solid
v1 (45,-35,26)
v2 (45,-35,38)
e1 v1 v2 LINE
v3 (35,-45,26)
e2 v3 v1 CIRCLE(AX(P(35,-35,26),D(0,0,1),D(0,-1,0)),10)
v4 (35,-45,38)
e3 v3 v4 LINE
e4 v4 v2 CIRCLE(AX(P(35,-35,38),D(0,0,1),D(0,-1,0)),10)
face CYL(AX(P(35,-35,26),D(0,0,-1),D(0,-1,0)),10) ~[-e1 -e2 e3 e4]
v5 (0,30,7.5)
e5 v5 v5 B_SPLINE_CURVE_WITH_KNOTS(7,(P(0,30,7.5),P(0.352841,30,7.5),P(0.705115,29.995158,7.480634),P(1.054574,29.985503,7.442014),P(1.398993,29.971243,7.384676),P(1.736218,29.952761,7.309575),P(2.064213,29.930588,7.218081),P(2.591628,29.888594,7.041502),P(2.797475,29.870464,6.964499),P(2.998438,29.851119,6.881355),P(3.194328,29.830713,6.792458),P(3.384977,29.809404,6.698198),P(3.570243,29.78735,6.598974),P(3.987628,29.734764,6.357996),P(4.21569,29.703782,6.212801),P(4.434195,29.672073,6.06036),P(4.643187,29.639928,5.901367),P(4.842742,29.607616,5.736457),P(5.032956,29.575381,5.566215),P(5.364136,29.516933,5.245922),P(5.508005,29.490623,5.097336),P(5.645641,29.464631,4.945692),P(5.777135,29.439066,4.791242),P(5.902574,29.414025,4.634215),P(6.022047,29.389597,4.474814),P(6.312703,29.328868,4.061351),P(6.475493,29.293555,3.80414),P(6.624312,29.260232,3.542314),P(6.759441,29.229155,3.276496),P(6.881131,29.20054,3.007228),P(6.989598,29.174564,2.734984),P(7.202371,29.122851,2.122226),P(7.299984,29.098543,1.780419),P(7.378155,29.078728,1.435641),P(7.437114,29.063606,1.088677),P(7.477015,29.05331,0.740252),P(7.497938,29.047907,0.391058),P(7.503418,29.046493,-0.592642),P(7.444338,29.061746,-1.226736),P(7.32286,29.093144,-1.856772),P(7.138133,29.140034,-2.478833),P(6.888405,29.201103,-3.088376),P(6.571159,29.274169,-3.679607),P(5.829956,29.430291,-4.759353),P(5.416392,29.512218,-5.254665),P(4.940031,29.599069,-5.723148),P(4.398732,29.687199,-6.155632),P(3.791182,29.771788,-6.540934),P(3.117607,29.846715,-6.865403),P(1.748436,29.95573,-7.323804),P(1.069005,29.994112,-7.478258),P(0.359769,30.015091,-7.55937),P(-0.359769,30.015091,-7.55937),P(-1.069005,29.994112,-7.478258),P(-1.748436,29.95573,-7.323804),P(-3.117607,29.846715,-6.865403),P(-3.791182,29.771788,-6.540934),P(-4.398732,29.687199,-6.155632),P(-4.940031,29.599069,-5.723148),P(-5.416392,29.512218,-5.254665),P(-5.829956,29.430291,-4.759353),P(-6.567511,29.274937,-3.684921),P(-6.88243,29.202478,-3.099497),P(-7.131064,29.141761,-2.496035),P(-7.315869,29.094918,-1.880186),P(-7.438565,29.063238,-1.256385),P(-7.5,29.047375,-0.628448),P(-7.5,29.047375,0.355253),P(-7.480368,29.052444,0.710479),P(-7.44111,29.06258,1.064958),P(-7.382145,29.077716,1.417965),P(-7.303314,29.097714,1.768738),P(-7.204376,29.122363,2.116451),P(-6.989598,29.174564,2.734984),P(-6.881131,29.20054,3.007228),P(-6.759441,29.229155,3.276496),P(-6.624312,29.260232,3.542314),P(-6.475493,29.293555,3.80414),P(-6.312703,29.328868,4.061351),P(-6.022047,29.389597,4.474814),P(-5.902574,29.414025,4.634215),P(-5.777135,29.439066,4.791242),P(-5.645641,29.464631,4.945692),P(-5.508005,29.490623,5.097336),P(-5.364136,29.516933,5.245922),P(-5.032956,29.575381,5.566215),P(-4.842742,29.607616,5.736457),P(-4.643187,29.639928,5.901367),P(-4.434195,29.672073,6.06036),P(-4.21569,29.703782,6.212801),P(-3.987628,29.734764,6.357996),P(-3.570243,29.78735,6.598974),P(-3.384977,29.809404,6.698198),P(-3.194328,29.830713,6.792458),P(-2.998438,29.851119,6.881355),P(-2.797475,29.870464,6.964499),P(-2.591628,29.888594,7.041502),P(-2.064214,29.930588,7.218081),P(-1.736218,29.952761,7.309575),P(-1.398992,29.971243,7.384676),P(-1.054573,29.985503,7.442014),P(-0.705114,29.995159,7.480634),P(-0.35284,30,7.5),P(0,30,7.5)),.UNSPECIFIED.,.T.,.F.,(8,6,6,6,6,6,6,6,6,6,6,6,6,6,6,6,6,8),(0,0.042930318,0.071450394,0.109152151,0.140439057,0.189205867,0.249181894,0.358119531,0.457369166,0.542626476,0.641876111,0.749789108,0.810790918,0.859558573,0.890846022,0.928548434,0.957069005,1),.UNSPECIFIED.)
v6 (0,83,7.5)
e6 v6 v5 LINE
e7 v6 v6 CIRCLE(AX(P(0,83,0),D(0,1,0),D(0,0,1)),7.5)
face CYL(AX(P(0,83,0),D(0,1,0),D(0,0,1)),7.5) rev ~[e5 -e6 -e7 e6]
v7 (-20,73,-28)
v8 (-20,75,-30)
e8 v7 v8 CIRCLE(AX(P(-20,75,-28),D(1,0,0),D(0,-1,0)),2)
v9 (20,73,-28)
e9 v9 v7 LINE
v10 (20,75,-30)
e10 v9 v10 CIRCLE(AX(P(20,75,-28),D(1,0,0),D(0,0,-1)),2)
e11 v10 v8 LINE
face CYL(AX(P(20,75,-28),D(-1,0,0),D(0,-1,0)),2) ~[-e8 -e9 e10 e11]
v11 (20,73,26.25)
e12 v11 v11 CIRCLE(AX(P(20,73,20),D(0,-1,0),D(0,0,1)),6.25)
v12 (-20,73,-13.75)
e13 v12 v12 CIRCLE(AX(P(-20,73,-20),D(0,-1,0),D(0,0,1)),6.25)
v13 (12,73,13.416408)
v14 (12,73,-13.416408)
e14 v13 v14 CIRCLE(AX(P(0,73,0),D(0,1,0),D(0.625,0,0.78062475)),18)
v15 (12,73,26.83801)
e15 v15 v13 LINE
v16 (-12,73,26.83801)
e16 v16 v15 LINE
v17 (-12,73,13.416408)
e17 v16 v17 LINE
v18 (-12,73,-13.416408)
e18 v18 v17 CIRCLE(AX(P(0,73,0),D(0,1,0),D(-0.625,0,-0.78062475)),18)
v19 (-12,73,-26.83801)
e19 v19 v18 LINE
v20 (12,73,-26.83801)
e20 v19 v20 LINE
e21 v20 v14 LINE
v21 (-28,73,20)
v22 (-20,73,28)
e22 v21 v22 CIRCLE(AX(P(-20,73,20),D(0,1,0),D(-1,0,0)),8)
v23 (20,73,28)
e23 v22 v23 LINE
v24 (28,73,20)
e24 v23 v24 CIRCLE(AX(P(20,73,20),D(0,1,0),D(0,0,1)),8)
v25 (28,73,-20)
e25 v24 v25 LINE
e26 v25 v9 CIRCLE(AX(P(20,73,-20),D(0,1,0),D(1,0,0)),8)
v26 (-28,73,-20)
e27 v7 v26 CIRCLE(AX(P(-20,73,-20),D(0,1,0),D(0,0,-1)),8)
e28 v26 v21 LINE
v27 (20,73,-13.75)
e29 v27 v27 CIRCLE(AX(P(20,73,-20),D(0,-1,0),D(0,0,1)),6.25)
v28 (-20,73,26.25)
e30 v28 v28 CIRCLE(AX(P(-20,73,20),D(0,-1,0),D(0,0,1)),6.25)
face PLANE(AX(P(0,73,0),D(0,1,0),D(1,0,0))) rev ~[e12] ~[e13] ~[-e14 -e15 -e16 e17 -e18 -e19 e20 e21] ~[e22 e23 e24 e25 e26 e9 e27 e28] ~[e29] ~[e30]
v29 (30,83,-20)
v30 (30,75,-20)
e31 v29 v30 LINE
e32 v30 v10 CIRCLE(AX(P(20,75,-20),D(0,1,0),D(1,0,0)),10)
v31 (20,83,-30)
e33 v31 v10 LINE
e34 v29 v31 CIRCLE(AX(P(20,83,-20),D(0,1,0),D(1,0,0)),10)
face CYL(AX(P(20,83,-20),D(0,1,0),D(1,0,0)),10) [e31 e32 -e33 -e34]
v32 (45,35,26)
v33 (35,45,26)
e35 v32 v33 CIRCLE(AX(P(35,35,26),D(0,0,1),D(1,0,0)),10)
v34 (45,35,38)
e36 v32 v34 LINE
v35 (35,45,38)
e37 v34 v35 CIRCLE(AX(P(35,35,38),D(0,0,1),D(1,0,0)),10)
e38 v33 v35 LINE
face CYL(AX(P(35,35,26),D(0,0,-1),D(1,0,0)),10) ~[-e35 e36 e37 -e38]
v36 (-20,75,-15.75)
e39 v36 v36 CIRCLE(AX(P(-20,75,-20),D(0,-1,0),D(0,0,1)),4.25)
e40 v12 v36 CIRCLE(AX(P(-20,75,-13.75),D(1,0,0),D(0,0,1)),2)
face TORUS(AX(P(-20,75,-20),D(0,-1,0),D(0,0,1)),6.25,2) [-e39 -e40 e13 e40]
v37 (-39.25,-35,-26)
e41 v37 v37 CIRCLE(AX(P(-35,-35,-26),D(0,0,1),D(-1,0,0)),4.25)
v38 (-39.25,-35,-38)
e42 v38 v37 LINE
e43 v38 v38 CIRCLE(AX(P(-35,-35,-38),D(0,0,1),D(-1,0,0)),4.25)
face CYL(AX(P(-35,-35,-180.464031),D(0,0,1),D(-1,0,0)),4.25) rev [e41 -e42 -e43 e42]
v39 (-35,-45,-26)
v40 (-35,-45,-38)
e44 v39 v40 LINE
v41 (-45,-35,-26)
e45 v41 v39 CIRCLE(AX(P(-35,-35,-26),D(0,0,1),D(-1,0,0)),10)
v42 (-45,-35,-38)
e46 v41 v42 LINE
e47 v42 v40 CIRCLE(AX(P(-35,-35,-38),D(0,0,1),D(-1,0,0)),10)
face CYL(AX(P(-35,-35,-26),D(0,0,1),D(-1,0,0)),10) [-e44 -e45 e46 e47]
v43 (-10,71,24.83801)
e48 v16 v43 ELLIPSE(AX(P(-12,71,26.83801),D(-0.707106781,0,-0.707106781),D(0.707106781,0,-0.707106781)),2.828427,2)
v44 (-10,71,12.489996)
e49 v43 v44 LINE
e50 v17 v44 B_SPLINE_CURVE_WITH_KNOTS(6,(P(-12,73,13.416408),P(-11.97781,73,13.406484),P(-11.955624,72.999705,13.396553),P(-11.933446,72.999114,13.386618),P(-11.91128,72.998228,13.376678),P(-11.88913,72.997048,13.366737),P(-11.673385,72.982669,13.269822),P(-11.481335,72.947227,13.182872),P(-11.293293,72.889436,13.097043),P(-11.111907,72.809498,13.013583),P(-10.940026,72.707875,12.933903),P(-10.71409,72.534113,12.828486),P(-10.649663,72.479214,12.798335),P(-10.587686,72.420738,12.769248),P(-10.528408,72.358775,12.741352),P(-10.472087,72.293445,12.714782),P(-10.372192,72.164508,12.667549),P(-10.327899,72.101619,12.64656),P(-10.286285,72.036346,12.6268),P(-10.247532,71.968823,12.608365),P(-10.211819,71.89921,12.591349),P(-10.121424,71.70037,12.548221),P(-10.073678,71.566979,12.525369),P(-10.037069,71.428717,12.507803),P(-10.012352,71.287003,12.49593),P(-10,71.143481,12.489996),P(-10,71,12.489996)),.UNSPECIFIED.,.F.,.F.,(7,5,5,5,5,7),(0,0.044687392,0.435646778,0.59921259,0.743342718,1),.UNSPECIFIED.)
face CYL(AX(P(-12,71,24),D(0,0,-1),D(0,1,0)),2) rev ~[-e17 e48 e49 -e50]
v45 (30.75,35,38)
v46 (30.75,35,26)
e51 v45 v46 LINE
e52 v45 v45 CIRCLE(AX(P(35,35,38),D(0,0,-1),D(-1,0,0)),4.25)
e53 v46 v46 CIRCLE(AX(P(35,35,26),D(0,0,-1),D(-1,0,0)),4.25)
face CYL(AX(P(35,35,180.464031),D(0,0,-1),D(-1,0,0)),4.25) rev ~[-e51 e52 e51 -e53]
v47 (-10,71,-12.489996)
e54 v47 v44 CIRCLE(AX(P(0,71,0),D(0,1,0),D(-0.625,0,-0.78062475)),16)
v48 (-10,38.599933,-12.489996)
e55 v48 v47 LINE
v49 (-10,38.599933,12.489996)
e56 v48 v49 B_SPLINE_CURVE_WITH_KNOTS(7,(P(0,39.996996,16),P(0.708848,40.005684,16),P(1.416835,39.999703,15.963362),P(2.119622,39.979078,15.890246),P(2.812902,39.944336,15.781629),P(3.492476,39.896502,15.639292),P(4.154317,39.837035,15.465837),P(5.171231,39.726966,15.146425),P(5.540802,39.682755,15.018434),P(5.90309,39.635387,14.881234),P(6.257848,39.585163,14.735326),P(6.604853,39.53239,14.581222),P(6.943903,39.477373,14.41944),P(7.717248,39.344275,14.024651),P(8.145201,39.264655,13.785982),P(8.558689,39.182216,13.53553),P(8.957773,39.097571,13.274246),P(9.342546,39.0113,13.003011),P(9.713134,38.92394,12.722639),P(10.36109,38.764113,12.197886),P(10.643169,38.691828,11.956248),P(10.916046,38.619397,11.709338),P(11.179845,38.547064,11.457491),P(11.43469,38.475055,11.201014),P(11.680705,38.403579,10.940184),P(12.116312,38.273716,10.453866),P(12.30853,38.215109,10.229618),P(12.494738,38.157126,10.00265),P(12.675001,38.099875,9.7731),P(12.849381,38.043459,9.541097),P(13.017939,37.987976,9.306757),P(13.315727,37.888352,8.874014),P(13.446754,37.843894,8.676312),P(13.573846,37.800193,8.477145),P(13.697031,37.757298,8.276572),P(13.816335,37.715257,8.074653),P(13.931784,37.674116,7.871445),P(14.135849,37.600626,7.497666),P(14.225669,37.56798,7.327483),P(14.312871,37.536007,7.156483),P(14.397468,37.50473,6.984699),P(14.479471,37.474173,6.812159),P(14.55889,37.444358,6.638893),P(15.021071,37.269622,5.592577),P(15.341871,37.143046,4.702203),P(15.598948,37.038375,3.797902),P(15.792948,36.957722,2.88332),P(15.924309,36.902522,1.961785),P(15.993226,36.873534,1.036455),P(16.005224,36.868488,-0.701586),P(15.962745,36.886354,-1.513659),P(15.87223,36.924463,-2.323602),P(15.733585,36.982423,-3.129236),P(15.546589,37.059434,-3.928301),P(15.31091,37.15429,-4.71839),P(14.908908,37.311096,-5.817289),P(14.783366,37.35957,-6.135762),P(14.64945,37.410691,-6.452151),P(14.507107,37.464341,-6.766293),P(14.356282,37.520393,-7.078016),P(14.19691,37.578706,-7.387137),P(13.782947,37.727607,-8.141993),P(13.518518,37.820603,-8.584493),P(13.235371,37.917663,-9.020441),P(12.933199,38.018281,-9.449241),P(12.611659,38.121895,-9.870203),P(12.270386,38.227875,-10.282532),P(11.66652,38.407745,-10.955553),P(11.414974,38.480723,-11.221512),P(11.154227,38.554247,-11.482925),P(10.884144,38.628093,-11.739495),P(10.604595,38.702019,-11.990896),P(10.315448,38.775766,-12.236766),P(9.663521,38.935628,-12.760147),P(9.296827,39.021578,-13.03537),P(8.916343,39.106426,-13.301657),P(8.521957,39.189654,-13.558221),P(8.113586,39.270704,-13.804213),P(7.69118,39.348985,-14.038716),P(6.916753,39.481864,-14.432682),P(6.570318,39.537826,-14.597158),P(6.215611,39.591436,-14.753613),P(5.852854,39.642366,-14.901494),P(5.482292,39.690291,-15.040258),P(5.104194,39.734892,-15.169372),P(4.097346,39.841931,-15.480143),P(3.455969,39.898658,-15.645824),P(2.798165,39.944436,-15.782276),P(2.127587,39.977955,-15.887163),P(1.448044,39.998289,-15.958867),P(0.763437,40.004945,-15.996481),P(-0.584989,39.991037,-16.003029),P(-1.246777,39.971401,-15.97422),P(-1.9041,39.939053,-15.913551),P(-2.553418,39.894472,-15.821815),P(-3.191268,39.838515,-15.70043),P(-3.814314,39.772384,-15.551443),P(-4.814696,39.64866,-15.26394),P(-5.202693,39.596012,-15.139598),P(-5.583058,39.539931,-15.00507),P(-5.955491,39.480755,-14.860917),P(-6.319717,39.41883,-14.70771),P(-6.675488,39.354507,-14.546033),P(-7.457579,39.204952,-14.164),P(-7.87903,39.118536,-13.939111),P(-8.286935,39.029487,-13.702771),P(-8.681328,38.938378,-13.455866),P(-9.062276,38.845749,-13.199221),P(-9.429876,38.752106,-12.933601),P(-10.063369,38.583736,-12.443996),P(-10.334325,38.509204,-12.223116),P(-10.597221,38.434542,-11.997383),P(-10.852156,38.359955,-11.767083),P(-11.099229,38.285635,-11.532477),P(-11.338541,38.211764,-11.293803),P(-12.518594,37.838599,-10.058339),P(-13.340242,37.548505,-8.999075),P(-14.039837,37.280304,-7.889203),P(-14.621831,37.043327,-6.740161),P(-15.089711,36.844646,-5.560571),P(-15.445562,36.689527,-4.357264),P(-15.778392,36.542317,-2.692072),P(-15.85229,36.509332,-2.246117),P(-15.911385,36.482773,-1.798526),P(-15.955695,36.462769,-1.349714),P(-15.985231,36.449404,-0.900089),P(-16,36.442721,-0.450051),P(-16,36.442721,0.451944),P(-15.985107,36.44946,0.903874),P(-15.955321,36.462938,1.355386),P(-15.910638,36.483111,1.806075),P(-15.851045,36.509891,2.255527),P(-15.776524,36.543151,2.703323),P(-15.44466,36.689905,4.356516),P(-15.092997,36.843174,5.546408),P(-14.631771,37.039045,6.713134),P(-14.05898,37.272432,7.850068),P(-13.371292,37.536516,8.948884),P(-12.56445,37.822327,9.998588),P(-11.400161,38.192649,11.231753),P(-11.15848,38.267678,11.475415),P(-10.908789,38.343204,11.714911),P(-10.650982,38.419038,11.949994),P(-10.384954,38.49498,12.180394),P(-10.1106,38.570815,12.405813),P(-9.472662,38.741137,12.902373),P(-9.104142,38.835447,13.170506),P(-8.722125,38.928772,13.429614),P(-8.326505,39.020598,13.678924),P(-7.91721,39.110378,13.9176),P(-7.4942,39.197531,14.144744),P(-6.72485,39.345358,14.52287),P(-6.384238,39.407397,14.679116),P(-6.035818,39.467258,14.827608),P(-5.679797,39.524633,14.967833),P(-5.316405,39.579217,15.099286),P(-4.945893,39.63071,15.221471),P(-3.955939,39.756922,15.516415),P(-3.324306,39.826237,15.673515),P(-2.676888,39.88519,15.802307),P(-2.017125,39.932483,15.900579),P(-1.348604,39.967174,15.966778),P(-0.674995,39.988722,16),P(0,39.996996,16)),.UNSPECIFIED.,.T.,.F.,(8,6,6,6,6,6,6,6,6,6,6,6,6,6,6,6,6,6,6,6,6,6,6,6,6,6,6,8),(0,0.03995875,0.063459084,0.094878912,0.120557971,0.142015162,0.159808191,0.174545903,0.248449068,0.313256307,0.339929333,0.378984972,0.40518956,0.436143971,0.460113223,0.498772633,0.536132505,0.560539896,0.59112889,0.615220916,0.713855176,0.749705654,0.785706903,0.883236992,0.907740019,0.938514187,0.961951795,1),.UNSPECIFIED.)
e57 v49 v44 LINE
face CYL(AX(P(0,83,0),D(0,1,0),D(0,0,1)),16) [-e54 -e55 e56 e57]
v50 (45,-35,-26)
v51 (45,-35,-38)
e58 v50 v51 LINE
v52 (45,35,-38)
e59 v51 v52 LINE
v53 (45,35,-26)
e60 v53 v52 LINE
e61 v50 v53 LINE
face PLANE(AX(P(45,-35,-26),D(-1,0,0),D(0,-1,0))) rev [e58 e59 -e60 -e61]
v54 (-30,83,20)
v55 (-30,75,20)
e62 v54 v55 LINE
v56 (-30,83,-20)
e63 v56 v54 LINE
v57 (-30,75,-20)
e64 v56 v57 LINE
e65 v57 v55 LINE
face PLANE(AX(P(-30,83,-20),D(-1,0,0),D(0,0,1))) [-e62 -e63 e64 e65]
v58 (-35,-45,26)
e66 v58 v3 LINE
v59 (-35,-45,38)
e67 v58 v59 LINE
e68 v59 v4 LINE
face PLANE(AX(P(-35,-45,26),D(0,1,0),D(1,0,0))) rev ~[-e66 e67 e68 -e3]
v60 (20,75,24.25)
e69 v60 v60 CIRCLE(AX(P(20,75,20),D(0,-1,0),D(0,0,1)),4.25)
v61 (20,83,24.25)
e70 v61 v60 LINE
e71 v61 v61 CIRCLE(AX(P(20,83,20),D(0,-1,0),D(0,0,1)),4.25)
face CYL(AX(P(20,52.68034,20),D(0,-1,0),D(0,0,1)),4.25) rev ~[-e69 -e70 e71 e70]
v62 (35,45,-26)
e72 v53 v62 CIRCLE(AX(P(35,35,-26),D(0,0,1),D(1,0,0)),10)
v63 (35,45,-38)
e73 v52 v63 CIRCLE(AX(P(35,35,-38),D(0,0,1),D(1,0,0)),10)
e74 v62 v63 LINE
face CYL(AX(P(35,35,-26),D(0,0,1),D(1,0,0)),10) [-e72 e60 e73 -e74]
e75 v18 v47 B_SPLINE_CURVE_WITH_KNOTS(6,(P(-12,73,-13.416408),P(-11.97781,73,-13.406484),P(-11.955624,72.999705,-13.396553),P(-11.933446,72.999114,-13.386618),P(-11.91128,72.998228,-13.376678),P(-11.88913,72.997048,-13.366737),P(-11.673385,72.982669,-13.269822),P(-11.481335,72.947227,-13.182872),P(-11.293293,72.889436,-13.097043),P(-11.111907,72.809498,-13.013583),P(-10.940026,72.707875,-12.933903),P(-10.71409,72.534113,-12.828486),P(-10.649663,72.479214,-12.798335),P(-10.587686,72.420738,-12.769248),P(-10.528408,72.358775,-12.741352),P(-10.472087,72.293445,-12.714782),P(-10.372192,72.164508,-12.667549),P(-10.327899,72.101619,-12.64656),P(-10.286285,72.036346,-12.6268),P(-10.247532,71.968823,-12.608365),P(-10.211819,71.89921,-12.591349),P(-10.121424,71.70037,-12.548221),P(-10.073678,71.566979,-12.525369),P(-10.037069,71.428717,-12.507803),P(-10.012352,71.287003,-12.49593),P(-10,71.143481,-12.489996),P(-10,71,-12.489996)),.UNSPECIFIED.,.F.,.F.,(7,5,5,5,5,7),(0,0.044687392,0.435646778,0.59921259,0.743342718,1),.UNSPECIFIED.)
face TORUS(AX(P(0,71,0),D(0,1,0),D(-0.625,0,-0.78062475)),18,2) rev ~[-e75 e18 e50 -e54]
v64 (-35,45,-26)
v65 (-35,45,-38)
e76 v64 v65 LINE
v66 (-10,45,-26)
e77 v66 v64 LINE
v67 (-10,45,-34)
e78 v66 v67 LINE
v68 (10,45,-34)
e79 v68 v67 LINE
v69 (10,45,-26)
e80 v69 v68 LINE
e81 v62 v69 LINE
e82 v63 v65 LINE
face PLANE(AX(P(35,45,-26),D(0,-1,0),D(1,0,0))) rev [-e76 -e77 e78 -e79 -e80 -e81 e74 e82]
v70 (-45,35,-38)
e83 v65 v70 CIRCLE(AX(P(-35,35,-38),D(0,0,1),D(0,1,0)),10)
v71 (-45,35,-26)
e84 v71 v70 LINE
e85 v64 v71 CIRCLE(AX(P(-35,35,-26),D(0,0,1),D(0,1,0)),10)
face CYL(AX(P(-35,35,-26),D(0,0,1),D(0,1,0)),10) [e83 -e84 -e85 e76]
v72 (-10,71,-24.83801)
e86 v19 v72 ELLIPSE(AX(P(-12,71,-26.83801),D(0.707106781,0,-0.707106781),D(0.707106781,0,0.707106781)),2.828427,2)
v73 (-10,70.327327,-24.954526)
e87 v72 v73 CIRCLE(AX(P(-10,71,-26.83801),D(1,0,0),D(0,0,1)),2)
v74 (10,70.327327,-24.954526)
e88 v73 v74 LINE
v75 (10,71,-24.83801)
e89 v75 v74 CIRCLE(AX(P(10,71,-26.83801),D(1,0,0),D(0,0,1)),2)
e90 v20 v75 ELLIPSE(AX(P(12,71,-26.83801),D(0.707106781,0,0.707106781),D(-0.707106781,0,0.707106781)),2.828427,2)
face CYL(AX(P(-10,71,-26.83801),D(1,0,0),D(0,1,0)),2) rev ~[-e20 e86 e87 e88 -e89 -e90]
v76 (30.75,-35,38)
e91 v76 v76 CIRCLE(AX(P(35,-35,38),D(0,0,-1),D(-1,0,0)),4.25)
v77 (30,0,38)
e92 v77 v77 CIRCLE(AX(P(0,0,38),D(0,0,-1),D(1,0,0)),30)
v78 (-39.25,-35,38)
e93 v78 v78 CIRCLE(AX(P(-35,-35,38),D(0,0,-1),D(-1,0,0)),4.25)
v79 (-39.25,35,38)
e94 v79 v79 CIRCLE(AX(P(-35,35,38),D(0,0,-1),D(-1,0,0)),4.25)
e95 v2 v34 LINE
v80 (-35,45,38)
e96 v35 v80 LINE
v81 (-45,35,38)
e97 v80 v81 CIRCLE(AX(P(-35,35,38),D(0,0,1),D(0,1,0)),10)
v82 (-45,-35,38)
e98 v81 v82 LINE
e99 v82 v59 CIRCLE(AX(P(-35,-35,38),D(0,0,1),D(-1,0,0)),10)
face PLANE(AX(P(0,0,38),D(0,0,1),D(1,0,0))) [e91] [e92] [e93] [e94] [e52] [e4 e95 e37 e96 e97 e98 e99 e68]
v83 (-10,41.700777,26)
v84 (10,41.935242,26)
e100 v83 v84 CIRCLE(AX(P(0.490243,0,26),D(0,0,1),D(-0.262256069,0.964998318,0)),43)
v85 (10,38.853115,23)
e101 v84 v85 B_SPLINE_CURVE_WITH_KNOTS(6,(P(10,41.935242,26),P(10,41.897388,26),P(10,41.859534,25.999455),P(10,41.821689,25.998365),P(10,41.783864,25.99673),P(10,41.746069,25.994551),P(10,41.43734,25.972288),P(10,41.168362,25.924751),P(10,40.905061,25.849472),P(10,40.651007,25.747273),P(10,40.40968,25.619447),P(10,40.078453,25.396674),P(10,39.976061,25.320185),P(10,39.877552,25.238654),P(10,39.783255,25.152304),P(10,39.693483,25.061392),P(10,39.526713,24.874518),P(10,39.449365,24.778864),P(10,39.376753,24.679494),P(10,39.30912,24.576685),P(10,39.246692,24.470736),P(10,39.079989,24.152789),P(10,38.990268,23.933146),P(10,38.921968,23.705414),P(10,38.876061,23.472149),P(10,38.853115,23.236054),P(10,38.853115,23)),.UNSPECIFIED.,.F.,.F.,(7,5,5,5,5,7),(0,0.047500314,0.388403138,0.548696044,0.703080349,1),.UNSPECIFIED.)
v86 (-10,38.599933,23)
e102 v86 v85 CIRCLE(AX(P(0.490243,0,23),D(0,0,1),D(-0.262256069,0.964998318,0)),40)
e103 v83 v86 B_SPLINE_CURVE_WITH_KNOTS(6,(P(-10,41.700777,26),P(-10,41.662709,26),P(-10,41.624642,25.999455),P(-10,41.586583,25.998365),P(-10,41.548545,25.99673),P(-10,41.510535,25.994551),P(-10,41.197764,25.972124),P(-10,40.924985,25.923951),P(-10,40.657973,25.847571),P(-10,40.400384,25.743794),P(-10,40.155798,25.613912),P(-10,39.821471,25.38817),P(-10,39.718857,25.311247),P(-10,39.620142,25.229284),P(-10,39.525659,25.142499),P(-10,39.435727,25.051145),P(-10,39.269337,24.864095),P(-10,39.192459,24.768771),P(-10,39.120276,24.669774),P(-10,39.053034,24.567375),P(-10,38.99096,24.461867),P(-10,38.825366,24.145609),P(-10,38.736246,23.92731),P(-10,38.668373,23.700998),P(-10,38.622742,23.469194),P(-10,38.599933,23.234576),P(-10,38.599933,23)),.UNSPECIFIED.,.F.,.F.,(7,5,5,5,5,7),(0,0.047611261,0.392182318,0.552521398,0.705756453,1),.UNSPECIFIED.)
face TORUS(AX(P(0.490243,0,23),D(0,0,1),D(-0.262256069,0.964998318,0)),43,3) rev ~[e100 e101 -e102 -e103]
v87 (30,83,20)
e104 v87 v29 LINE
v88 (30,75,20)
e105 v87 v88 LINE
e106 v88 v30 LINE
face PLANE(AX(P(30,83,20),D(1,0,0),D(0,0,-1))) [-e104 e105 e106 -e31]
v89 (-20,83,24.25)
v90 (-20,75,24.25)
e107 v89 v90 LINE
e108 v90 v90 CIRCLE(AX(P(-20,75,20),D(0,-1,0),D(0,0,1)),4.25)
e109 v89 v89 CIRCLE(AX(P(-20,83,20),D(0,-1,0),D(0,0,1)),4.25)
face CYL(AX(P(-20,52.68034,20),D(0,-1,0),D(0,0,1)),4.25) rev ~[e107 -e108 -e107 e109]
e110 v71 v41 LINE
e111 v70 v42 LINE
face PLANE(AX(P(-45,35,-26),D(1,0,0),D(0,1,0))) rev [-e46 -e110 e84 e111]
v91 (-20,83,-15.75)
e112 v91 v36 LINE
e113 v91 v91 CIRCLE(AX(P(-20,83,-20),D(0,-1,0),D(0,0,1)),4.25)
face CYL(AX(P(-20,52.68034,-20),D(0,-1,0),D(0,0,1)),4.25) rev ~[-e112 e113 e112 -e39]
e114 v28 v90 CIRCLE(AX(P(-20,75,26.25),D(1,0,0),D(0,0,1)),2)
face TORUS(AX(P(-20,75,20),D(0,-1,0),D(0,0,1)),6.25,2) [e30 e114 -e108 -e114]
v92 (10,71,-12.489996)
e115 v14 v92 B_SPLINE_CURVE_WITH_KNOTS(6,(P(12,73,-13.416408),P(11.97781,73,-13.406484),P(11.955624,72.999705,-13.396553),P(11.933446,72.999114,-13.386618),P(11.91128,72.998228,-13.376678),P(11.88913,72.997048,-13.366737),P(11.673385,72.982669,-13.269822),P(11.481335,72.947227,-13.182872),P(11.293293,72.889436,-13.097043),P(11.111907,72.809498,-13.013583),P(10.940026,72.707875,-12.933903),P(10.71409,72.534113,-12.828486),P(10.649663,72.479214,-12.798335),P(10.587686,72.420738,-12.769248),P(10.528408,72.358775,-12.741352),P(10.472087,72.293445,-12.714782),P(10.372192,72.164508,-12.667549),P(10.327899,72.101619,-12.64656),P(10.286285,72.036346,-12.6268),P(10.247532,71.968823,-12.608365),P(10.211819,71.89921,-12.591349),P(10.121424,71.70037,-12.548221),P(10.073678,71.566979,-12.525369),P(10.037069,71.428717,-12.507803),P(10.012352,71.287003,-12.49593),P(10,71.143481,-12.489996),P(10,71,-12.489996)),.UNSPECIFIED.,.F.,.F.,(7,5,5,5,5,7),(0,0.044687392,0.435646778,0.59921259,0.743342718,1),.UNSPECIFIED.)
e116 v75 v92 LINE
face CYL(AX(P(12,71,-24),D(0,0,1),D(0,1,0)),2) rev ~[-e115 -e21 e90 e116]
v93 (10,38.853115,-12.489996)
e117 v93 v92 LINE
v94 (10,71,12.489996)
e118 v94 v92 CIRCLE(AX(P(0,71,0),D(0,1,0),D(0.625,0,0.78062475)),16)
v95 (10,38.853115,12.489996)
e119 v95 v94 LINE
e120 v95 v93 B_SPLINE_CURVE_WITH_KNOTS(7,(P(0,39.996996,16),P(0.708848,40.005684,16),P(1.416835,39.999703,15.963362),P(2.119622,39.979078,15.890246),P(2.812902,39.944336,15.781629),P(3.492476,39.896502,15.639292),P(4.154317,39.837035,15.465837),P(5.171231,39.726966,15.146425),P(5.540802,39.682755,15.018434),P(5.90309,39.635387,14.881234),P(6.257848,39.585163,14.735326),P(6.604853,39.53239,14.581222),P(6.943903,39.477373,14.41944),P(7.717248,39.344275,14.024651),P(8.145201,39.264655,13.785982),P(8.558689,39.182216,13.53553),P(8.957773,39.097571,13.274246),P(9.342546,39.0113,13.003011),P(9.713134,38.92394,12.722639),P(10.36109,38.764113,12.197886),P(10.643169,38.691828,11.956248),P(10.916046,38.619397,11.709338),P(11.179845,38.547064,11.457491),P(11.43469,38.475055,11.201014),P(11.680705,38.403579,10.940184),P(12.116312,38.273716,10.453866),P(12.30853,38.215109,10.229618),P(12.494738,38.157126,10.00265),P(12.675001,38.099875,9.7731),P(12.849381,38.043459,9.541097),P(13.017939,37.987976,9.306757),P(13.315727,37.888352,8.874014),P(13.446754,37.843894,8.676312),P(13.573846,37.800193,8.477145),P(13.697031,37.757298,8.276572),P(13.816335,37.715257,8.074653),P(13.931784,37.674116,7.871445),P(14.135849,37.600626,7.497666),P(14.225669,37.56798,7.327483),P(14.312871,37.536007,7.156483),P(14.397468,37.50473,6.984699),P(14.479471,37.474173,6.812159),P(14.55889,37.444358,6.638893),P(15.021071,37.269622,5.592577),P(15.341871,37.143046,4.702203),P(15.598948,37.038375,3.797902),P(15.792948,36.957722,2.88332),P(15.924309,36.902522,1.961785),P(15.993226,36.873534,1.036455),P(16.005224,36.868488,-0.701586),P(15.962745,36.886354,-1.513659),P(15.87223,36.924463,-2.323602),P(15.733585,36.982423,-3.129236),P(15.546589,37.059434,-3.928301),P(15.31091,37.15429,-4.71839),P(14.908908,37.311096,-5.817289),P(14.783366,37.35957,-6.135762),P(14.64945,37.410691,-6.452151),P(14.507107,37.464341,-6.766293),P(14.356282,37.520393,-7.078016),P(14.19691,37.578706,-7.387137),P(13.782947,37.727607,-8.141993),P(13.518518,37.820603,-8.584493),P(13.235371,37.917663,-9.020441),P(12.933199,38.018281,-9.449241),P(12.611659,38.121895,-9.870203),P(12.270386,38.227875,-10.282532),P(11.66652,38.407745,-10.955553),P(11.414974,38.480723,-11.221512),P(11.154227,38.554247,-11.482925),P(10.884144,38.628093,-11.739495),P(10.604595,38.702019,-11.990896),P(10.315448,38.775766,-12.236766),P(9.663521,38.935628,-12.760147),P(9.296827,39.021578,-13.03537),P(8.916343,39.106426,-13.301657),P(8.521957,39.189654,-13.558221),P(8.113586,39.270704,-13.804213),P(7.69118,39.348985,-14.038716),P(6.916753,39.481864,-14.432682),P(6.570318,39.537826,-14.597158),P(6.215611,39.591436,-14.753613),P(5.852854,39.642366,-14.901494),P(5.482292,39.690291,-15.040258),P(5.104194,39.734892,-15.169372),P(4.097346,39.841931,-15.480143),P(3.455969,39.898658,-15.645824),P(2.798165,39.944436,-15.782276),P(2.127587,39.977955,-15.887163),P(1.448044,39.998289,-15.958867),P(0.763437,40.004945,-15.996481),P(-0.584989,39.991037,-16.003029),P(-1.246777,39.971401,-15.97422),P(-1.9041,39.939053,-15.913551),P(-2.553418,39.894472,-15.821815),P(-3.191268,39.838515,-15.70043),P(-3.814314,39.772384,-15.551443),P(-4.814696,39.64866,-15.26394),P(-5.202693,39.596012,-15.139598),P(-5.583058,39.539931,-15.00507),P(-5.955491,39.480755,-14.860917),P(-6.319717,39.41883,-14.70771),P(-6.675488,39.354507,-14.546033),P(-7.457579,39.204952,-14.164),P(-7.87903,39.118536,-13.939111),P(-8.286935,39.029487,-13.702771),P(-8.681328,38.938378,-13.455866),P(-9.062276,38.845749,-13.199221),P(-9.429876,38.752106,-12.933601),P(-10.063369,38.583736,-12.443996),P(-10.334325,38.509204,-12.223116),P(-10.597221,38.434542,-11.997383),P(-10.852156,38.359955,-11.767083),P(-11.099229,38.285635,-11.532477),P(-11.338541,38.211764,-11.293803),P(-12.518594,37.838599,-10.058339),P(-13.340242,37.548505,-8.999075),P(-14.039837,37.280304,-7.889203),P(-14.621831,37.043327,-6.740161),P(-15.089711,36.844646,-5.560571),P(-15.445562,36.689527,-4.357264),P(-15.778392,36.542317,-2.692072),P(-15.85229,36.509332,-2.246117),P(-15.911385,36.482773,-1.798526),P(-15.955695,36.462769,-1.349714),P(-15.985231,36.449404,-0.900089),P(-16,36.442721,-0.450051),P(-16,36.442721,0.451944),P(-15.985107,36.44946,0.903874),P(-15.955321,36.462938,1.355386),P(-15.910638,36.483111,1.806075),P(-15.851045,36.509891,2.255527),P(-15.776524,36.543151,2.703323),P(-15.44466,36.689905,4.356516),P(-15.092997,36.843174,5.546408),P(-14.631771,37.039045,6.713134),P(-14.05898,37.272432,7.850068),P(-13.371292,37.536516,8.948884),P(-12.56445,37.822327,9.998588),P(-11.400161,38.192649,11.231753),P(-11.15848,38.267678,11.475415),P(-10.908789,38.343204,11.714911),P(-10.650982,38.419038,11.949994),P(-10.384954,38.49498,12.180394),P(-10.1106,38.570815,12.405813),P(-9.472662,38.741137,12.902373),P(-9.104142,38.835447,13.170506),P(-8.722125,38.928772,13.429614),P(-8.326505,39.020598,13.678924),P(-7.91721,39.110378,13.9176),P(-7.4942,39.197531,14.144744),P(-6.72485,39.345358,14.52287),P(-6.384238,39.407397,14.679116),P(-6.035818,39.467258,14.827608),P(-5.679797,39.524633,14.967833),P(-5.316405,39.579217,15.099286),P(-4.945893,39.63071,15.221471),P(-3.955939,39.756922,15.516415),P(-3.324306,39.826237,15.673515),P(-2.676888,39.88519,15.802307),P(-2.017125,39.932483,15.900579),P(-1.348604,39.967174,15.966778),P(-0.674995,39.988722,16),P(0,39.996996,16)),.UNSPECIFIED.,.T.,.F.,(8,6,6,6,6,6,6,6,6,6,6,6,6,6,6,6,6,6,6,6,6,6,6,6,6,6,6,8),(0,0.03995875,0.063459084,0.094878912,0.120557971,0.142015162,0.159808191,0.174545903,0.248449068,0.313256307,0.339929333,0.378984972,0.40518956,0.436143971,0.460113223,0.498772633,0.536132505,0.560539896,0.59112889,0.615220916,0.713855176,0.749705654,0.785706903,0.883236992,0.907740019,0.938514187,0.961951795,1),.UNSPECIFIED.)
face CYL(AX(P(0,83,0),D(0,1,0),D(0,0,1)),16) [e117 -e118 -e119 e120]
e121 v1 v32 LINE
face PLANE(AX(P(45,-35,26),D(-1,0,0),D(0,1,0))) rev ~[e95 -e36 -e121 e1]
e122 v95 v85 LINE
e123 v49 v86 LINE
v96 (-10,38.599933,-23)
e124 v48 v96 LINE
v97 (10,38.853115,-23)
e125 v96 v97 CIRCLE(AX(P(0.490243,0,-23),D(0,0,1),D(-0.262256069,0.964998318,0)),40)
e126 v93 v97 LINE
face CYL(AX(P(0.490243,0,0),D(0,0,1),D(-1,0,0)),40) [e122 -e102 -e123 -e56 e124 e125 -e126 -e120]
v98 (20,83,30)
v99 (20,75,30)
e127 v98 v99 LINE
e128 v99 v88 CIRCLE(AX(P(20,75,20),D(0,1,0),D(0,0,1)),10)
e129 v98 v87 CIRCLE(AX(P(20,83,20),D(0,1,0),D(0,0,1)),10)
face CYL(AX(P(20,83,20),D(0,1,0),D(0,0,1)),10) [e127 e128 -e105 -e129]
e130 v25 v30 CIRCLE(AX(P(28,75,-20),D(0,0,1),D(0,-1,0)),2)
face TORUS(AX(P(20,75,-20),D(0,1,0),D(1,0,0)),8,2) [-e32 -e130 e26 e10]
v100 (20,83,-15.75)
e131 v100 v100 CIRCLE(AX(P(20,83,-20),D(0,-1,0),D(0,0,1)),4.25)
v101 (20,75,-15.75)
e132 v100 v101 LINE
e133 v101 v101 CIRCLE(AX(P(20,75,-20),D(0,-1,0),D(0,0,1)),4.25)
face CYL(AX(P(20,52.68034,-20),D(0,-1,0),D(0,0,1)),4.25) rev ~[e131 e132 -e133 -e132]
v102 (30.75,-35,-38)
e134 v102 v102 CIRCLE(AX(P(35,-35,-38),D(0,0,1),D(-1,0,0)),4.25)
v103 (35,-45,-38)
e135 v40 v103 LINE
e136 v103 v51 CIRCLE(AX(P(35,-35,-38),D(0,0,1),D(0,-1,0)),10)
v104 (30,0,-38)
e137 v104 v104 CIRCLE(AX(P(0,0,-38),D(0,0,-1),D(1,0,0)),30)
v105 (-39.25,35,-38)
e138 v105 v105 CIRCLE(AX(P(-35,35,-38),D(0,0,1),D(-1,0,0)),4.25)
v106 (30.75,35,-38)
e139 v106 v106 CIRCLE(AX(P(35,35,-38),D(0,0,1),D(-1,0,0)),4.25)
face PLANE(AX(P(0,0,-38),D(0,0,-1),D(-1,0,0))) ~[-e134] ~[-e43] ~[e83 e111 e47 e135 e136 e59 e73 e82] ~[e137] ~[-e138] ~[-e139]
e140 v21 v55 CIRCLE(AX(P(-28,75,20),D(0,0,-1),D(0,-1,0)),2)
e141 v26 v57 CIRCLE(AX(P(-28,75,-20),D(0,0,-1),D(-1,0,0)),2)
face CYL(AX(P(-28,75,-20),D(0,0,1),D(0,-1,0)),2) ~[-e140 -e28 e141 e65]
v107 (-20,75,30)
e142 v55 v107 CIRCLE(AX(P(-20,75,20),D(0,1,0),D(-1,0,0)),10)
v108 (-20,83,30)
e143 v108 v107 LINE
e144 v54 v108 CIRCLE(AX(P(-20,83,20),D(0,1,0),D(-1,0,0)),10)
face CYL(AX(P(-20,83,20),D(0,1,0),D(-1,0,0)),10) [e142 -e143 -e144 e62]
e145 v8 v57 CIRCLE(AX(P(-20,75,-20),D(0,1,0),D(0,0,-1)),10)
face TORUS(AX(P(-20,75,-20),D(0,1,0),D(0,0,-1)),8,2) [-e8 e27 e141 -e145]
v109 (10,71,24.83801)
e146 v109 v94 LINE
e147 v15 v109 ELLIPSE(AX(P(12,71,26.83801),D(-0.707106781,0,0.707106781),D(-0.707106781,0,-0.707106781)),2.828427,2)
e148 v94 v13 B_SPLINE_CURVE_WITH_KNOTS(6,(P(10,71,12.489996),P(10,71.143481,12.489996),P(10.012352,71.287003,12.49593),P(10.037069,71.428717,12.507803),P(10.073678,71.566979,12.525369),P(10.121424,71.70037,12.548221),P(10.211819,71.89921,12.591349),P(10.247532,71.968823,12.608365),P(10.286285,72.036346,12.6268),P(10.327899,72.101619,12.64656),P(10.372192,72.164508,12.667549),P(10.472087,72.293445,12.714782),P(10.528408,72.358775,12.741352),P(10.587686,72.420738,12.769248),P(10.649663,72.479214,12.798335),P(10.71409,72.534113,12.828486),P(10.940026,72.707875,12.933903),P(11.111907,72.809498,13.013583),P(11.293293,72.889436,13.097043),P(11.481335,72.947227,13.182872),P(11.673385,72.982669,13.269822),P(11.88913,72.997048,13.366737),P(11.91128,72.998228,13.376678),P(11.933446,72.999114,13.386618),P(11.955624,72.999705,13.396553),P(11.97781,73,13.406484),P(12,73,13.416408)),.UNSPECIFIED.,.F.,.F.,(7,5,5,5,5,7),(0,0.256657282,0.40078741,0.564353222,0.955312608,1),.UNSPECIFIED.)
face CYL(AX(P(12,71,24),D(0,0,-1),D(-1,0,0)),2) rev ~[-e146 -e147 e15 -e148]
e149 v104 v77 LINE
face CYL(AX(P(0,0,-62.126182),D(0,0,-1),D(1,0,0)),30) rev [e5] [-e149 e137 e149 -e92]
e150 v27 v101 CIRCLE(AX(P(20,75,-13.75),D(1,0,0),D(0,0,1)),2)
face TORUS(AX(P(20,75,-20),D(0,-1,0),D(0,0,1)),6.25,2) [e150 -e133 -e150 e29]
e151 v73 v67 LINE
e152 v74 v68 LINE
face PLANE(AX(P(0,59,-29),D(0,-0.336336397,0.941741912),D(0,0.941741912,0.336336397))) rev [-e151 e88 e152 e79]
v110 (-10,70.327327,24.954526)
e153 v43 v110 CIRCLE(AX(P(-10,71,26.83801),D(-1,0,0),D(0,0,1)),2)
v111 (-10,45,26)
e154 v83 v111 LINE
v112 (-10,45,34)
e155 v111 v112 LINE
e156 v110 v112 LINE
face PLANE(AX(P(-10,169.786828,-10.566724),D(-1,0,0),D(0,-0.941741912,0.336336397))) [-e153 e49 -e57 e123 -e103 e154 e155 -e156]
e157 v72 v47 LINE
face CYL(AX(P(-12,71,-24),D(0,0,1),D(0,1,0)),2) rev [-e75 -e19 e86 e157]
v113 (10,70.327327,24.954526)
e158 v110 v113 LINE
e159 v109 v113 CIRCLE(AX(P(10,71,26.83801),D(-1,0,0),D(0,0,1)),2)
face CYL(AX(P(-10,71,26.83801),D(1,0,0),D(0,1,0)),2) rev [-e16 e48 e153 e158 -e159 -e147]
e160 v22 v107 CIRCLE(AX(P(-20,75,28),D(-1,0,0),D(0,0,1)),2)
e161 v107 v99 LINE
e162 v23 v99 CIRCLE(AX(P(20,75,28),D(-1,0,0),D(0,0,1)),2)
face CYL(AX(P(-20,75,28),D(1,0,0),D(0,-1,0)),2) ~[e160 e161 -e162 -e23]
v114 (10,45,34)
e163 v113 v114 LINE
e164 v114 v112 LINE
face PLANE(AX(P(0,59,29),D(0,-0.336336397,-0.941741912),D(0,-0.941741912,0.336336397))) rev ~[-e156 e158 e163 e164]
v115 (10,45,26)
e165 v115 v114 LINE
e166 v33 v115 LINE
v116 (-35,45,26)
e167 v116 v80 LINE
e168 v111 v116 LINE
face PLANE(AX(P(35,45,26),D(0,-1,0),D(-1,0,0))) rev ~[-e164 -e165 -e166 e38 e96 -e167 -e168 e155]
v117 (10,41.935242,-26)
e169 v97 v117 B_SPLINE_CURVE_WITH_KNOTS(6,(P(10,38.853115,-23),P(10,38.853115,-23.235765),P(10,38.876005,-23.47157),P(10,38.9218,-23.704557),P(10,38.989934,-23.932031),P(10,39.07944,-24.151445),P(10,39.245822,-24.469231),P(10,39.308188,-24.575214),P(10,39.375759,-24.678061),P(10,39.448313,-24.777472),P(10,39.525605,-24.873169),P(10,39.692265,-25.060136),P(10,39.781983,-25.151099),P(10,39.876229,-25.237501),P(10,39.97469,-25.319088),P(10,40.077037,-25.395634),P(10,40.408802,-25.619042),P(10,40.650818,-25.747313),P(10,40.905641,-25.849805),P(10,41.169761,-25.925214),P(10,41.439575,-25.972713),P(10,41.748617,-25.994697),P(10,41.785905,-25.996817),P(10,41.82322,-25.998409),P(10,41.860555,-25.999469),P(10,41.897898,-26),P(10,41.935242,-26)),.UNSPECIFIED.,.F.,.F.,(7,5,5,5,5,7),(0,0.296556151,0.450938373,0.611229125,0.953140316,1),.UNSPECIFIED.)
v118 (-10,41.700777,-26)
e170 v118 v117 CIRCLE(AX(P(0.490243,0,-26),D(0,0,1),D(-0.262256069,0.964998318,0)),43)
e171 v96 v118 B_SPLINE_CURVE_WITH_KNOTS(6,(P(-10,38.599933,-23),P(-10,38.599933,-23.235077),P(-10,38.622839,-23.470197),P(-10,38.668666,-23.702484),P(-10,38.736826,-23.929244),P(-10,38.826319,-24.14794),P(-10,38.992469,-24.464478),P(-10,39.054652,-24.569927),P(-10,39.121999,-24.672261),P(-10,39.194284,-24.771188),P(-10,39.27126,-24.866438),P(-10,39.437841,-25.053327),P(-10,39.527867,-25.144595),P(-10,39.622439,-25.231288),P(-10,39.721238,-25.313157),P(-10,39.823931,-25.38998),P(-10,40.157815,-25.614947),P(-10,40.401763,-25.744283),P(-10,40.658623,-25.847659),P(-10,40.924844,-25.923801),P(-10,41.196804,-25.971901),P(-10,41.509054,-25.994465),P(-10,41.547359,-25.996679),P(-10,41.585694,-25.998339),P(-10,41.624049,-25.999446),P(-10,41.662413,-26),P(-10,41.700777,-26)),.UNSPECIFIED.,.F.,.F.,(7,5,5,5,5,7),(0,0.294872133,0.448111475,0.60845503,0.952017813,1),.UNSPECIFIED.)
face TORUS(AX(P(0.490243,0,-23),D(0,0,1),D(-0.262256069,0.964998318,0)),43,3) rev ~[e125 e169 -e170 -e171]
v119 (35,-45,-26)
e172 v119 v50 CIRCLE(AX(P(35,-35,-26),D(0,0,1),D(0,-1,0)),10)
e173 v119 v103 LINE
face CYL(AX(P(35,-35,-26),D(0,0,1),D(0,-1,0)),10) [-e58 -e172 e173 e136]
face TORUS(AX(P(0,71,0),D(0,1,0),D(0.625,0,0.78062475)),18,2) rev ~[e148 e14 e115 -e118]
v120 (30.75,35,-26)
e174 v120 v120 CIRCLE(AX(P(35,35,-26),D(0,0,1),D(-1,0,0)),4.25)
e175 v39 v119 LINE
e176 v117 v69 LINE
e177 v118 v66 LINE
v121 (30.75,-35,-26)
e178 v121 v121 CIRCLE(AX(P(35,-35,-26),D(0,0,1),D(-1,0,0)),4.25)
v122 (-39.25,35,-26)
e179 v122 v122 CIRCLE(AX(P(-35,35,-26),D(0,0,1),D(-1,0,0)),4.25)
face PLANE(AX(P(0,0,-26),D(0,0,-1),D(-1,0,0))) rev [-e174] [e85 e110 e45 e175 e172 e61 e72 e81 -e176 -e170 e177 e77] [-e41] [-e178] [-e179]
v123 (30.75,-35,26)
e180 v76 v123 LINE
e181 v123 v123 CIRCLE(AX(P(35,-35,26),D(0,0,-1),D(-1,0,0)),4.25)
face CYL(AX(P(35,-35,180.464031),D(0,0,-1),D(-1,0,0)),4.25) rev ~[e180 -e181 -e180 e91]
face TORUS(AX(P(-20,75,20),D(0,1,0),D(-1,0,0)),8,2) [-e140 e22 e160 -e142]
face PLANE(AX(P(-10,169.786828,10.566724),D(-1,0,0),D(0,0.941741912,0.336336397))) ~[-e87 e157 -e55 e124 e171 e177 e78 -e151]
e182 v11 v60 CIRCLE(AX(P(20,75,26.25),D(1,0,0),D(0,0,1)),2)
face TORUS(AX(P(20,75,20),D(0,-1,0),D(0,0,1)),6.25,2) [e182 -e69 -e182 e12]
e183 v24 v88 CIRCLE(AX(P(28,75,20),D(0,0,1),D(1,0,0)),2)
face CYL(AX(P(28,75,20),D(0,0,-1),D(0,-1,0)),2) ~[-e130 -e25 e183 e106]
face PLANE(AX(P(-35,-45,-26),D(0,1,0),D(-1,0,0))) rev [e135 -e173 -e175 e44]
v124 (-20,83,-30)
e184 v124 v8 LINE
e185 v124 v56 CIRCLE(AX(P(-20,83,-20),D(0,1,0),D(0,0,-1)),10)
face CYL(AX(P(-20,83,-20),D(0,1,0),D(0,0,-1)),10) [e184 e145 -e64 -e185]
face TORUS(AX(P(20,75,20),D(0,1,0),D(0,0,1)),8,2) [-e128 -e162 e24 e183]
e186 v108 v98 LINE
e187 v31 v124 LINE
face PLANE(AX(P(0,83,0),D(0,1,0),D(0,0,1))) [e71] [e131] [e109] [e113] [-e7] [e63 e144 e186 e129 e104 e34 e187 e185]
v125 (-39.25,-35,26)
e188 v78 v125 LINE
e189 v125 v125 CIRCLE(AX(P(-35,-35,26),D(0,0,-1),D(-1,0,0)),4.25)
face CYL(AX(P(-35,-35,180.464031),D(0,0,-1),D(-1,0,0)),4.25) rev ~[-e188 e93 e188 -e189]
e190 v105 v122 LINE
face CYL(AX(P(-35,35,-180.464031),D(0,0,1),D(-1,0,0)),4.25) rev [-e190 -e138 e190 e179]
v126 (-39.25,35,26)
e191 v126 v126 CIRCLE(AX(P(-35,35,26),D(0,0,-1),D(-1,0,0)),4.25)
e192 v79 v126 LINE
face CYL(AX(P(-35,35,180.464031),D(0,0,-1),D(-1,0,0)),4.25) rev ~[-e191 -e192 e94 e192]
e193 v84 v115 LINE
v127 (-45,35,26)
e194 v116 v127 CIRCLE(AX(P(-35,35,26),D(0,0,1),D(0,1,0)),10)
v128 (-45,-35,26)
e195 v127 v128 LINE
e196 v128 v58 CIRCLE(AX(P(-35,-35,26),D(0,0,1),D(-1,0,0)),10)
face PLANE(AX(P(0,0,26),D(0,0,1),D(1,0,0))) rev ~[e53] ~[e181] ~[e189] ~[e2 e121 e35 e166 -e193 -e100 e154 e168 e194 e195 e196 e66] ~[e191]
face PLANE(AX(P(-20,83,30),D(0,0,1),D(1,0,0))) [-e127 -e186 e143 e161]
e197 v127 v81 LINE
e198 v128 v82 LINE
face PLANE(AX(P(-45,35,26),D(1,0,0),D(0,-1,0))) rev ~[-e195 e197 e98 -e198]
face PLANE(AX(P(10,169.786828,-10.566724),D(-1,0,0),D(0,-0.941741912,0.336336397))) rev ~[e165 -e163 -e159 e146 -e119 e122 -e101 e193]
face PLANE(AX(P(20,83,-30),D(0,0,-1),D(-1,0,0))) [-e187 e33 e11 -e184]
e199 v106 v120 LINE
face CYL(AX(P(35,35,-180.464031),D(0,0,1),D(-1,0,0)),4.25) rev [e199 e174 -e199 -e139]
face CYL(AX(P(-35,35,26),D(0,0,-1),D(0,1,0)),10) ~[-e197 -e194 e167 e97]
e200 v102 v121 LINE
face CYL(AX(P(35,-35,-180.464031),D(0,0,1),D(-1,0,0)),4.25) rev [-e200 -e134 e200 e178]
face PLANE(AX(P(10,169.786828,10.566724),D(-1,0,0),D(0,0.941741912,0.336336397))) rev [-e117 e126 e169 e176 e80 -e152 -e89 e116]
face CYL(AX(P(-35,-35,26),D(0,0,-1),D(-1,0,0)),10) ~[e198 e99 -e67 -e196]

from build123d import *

# Parameters (mm, degrees)
SKETCH_8_R                      = 40
EXTRUDE_3_DEPTH                 = 26
EXTRUDE_4_DEPTH                 = 12
HOLE_WIZARD_M10_1_D             = 8.5
CUT_EXTRUDE_2_DEPTH             = 100.126182212
CUT_EXTRUDE_2_DEPTH_BACK        = 100.126182212
SKETCH_16_R                     = 30
EXTRUDE_6_DEPTH                 = 10
SKETCH_20_W                     = 4.25
SKETCH_20_H                     = 60.639320225
HOLE_WIZARD_M10_3_AT_2_COUNT    = 2
HOLE_WIZARD_M10_3_AT_2_PITCH    = 40
HOLE_WIZARD_M10_3_AT_3_COUNT    = 2
HOLE_WIZARD_M10_3_AT_3_PITCH    = 40
HOLE_WIZARD_M10_3_AT_4_COUNT    = 2
HOLE_WIZARD_M10_3_AT_4_PITCH    = 56.568542495
EXTRUDE_7_REACH                 = 142.901
EXTRUDE_7_END_RADIUS            = 40
SKETCH_21_R                     = 16
CUT_EXTRUDE_3_REACH             = 142.901
SKETCH_22_R                     = 7.5
CUT_EXTRUDE_3_DIRECTION_2_DEPTH = 141.900674235
RIB_1_REACH                     = 103.774
SKETCH_27_WALL_W                = 235.280657746
SKETCH_27_WALL_H                = 20
FILLET_1_R                      = 2
FILLET_4_R                      = 3


with BuildPart() as part:
    # 草图8 → 凸台-拉伸3 (new, symmetric)
    with BuildSketch(Plane.XY):
        with Locations(Location((0.490242747, 0, 0), (0, 0, 180))):
            Circle(SKETCH_8_R)
    extrude(amount=EXTRUDE_3_DEPTH, both=True)

    # 草图10 → 凸台-拉伸4 (add)
    with BuildSketch(Plane.XY.offset(26)):
        with BuildLine():
            Line((-35, -45), (35, -45))
            ThreePointArc((35, -45), (42.071067812, -42.071067812), (45, -35))
            Line((45, -35), (45, 35))
            ThreePointArc((45, 35), (42.071067812, 42.071067812), (35, 45))
            Line((35, 45), (-35, 45))
            ThreePointArc((-35, 45), (-42.071067812, 42.071067812), (-45, 35))
            Line((-45, 35), (-45, -35))
            ThreePointArc((-45, -35), (-42.071067812, -42.071067812), (-35, -45))
        make_face()
    extrude_4 = extrude(amount=EXTRUDE_4_DEPTH)

    # M10 螺纹孔1 (through all)
    with Locations(Plane.XY.offset(38)):
        with Locations((-35, 35), (35, -35), (35, 35), (-35, -35)):
            hole_wizard_m10_1 = Hole(HOLE_WIZARD_M10_1_D / 2)

    # 镜向1: 凸台-拉伸4, M10 螺纹孔1 across plane
    add(extrude_4.mirror(Plane.XY))
    add(hole_wizard_m10_1.mirror(Plane.XY), mode=Mode.SUBTRACT)

    # 草图16 → 切除-拉伸2 (cut, two sides: drawn at the far end of the back side and taken through both)
    with BuildSketch(Plane.XY.offset(38).offset(-CUT_EXTRUDE_2_DEPTH_BACK)):
        Circle(SKETCH_16_R)
    extrude(amount=CUT_EXTRUDE_2_DEPTH + CUT_EXTRUDE_2_DEPTH_BACK, mode=Mode.SUBTRACT)



with BuildPart() as body_2:
    # 草图17 → 凸台-拉伸6 (new body)
    with BuildSketch(Plane(origin=(0, 83, 0), x_dir=(1, 0, 0), z_dir=(0, 1, 0))):
        with BuildLine():
            Line((-20, -30), (20, -30))
            ThreePointArc((20, -30), (27.071067812, -27.071067812), (30, -20))
            Line((30, -20), (30, 20))
            ThreePointArc((30, 20), (27.071067812, 27.071067812), (20, 30))
            Line((20, 30), (-20, 30))
            ThreePointArc((-20, 30), (-27.071067812, 27.071067812), (-30, 20))
            Line((-30, 20), (-30, -20))
            ThreePointArc((-30, -20), (-27.071067812, -27.071067812), (-20, -30))
        make_face()
    extrude(amount=-EXTRUDE_6_DEPTH)

    # 草图20 → M10 螺纹孔3 (revolve, cut)
    with BuildSketch(Plane(origin=(-20, 83, -20), x_dir=(0, 0, 1), z_dir=(1, 0, 0))):
        with Locations((2.125, 30.319660113)):
            Rectangle(SKETCH_20_W, SKETCH_20_H)
    hole_wizard_m10_3 = revolve(axis=Axis((-20, 89.35, -20), (0, -1, 0)), mode=Mode.SUBTRACT)

    # M10 螺纹孔3 at 2: M10 螺纹孔3 ×2
    with Locations(*[(i * HOLE_WIZARD_M10_3_AT_2_PITCH, 0, 0) for i in range(1, HOLE_WIZARD_M10_3_AT_2_COUNT)]):
        add(hole_wizard_m10_3, mode=Mode.SUBTRACT)

    # M10 螺纹孔3 at 3: M10 螺纹孔3 ×2
    with Locations(*[(0, 0, i * HOLE_WIZARD_M10_3_AT_3_PITCH) for i in range(1, HOLE_WIZARD_M10_3_AT_3_COUNT)]):
        add(hole_wizard_m10_3, mode=Mode.SUBTRACT)

    # M10 螺纹孔3 at 4: M10 螺纹孔3 ×2
    with Locations(*[Vector(0.7071067811865476, 0, 0.7071067811865476) * (i * HOLE_WIZARD_M10_3_AT_4_PITCH) for i in range(1, HOLE_WIZARD_M10_3_AT_4_COUNT)]):
        add(hole_wizard_m10_3, mode=Mode.SUBTRACT)


with BuildPart() as part_1:
    add(part.part)

    add(body_2.part)  # 凸台-拉伸7 merges body 2
    # 凸台-拉伸7: up to this cylinder (the profile starts outside it)
    extrude_7_end = Plane(origin=(0.490242747, 0, 0), z_dir=(0, 0, -1)) * Cylinder(EXTRUDE_7_END_RADIUS, 366.802, mode=Mode.PRIVATE)
    # 草图21 → 凸台-拉伸7 (add, up to the surface)
    with BuildSketch(Plane(origin=(0, 83, 0), x_dir=(1, 0, 0), z_dir=(0, 1, 0)), mode=Mode.PRIVATE) as extrude_7_sk1:
        with Locations(Location((0, 0, 0), (0, 0, 270))):
            Circle(SKETCH_21_R)
    extrude_7_tool1 = extrude(extrude_7_sk1.sketch, amount=-EXTRUDE_7_REACH, mode=Mode.PRIVATE) - extrude_7_end
    add(extrude_7_tool1.solids().sort_by_distance((0, 83, 0))[0])

    # 草图22 → 切除-拉伸3 (cut, up to next)
    with BuildSketch(Plane(origin=(0, 83, 0), x_dir=(1, 0, 0), z_dir=(0, 1, 0)), mode=Mode.PRIVATE) as cut_extrude_3_sk1:
        with Locations(Location((0, 0, 0), (0, 0, 270))):
            Circle(SKETCH_22_R)
    cut_extrude_3_tool1 = extrude(cut_extrude_3_sk1.sketch, amount=-CUT_EXTRUDE_3_REACH, mode=Mode.PRIVATE) & part_1.part
    add(cut_extrude_3_tool1.solids().sort_by_distance((0, 83, 0))[0], mode=Mode.SUBTRACT)

    # 草图22 → 切除-拉伸3 direction 2 (cut)
    with BuildSketch(Plane(origin=(0, 83, 0), x_dir=(1, 0, 0), z_dir=(0, 1, 0))):
        with Locations(Location((0, 0, 0), (0, 0, 270))):
            Circle(SKETCH_22_R)
    extrude(amount=CUT_EXTRUDE_3_DIRECTION_2_DEPTH, mode=Mode.SUBTRACT)

    # 草图27 wall → 筋1 (add, up to next)
    with BuildSketch(Plane(origin=(0, 59, 29), x_dir=(0, -0.941741911595, 0.336336396998), z_dir=(0, -0.336336396998, -0.941741911595)), mode=Mode.PRIVATE) as rib_1_sk1:
        Rectangle(SKETCH_27_WALL_W, SKETCH_27_WALL_H)
    rib_1_tool1 = extrude(rib_1_sk1.sketch, amount=RIB_1_REACH, mode=Mode.PRIVATE) - part_1.part
    rib_1 = rib_1_tool1.solids().sort_by_distance((0, 59, 29))[0]
    add(rib_1)

    # 镜向2: 筋1 across plane
    add(rib_1.mirror(Plane.XY))

    # 圆角1
    fillet_1_edges = [part_1.edges().sort_by_distance(p)[0] for p in [
        (-16, 73, 0),
        (27.071067812, 73, 27.071067812),
        (0, 73, 30),
        (-27.071067812, 73, 27.071067812),
        (-30, 73, 0),
        (-27.071067812, 73, -27.071067812),
        (0, 73, -30),
        (27.071067812, 73, -27.071067812),
        (30, 73, 0),
        (-20, 73, -24.25),
        (20, 73, -24.25),
        (-20, 73, 15.75),
        (20, 73, 15.75),
        (0, 73, 24),
        (10, 73, 18.244997998),
        (-10, 73, 18.244997998),
        (16, 73, 0),
        (0, 73, -24),
        (10, 73, -18.244997998),
        (-10, 73, -18.244997998),
    ]]
    fillet(fillet_1_edges, radius=FILLET_1_R)

    # 圆角4
    fillet_4_edges = [part_1.edges().sort_by_distance(p)[0] for p in [
        (0.996565984, -39.996795331, 26),
        (0.996565984, -39.996795331, -26),
    ]]
    fillet(fillet_4_edges, radius=FILLET_4_R)


solid = part_1.part
